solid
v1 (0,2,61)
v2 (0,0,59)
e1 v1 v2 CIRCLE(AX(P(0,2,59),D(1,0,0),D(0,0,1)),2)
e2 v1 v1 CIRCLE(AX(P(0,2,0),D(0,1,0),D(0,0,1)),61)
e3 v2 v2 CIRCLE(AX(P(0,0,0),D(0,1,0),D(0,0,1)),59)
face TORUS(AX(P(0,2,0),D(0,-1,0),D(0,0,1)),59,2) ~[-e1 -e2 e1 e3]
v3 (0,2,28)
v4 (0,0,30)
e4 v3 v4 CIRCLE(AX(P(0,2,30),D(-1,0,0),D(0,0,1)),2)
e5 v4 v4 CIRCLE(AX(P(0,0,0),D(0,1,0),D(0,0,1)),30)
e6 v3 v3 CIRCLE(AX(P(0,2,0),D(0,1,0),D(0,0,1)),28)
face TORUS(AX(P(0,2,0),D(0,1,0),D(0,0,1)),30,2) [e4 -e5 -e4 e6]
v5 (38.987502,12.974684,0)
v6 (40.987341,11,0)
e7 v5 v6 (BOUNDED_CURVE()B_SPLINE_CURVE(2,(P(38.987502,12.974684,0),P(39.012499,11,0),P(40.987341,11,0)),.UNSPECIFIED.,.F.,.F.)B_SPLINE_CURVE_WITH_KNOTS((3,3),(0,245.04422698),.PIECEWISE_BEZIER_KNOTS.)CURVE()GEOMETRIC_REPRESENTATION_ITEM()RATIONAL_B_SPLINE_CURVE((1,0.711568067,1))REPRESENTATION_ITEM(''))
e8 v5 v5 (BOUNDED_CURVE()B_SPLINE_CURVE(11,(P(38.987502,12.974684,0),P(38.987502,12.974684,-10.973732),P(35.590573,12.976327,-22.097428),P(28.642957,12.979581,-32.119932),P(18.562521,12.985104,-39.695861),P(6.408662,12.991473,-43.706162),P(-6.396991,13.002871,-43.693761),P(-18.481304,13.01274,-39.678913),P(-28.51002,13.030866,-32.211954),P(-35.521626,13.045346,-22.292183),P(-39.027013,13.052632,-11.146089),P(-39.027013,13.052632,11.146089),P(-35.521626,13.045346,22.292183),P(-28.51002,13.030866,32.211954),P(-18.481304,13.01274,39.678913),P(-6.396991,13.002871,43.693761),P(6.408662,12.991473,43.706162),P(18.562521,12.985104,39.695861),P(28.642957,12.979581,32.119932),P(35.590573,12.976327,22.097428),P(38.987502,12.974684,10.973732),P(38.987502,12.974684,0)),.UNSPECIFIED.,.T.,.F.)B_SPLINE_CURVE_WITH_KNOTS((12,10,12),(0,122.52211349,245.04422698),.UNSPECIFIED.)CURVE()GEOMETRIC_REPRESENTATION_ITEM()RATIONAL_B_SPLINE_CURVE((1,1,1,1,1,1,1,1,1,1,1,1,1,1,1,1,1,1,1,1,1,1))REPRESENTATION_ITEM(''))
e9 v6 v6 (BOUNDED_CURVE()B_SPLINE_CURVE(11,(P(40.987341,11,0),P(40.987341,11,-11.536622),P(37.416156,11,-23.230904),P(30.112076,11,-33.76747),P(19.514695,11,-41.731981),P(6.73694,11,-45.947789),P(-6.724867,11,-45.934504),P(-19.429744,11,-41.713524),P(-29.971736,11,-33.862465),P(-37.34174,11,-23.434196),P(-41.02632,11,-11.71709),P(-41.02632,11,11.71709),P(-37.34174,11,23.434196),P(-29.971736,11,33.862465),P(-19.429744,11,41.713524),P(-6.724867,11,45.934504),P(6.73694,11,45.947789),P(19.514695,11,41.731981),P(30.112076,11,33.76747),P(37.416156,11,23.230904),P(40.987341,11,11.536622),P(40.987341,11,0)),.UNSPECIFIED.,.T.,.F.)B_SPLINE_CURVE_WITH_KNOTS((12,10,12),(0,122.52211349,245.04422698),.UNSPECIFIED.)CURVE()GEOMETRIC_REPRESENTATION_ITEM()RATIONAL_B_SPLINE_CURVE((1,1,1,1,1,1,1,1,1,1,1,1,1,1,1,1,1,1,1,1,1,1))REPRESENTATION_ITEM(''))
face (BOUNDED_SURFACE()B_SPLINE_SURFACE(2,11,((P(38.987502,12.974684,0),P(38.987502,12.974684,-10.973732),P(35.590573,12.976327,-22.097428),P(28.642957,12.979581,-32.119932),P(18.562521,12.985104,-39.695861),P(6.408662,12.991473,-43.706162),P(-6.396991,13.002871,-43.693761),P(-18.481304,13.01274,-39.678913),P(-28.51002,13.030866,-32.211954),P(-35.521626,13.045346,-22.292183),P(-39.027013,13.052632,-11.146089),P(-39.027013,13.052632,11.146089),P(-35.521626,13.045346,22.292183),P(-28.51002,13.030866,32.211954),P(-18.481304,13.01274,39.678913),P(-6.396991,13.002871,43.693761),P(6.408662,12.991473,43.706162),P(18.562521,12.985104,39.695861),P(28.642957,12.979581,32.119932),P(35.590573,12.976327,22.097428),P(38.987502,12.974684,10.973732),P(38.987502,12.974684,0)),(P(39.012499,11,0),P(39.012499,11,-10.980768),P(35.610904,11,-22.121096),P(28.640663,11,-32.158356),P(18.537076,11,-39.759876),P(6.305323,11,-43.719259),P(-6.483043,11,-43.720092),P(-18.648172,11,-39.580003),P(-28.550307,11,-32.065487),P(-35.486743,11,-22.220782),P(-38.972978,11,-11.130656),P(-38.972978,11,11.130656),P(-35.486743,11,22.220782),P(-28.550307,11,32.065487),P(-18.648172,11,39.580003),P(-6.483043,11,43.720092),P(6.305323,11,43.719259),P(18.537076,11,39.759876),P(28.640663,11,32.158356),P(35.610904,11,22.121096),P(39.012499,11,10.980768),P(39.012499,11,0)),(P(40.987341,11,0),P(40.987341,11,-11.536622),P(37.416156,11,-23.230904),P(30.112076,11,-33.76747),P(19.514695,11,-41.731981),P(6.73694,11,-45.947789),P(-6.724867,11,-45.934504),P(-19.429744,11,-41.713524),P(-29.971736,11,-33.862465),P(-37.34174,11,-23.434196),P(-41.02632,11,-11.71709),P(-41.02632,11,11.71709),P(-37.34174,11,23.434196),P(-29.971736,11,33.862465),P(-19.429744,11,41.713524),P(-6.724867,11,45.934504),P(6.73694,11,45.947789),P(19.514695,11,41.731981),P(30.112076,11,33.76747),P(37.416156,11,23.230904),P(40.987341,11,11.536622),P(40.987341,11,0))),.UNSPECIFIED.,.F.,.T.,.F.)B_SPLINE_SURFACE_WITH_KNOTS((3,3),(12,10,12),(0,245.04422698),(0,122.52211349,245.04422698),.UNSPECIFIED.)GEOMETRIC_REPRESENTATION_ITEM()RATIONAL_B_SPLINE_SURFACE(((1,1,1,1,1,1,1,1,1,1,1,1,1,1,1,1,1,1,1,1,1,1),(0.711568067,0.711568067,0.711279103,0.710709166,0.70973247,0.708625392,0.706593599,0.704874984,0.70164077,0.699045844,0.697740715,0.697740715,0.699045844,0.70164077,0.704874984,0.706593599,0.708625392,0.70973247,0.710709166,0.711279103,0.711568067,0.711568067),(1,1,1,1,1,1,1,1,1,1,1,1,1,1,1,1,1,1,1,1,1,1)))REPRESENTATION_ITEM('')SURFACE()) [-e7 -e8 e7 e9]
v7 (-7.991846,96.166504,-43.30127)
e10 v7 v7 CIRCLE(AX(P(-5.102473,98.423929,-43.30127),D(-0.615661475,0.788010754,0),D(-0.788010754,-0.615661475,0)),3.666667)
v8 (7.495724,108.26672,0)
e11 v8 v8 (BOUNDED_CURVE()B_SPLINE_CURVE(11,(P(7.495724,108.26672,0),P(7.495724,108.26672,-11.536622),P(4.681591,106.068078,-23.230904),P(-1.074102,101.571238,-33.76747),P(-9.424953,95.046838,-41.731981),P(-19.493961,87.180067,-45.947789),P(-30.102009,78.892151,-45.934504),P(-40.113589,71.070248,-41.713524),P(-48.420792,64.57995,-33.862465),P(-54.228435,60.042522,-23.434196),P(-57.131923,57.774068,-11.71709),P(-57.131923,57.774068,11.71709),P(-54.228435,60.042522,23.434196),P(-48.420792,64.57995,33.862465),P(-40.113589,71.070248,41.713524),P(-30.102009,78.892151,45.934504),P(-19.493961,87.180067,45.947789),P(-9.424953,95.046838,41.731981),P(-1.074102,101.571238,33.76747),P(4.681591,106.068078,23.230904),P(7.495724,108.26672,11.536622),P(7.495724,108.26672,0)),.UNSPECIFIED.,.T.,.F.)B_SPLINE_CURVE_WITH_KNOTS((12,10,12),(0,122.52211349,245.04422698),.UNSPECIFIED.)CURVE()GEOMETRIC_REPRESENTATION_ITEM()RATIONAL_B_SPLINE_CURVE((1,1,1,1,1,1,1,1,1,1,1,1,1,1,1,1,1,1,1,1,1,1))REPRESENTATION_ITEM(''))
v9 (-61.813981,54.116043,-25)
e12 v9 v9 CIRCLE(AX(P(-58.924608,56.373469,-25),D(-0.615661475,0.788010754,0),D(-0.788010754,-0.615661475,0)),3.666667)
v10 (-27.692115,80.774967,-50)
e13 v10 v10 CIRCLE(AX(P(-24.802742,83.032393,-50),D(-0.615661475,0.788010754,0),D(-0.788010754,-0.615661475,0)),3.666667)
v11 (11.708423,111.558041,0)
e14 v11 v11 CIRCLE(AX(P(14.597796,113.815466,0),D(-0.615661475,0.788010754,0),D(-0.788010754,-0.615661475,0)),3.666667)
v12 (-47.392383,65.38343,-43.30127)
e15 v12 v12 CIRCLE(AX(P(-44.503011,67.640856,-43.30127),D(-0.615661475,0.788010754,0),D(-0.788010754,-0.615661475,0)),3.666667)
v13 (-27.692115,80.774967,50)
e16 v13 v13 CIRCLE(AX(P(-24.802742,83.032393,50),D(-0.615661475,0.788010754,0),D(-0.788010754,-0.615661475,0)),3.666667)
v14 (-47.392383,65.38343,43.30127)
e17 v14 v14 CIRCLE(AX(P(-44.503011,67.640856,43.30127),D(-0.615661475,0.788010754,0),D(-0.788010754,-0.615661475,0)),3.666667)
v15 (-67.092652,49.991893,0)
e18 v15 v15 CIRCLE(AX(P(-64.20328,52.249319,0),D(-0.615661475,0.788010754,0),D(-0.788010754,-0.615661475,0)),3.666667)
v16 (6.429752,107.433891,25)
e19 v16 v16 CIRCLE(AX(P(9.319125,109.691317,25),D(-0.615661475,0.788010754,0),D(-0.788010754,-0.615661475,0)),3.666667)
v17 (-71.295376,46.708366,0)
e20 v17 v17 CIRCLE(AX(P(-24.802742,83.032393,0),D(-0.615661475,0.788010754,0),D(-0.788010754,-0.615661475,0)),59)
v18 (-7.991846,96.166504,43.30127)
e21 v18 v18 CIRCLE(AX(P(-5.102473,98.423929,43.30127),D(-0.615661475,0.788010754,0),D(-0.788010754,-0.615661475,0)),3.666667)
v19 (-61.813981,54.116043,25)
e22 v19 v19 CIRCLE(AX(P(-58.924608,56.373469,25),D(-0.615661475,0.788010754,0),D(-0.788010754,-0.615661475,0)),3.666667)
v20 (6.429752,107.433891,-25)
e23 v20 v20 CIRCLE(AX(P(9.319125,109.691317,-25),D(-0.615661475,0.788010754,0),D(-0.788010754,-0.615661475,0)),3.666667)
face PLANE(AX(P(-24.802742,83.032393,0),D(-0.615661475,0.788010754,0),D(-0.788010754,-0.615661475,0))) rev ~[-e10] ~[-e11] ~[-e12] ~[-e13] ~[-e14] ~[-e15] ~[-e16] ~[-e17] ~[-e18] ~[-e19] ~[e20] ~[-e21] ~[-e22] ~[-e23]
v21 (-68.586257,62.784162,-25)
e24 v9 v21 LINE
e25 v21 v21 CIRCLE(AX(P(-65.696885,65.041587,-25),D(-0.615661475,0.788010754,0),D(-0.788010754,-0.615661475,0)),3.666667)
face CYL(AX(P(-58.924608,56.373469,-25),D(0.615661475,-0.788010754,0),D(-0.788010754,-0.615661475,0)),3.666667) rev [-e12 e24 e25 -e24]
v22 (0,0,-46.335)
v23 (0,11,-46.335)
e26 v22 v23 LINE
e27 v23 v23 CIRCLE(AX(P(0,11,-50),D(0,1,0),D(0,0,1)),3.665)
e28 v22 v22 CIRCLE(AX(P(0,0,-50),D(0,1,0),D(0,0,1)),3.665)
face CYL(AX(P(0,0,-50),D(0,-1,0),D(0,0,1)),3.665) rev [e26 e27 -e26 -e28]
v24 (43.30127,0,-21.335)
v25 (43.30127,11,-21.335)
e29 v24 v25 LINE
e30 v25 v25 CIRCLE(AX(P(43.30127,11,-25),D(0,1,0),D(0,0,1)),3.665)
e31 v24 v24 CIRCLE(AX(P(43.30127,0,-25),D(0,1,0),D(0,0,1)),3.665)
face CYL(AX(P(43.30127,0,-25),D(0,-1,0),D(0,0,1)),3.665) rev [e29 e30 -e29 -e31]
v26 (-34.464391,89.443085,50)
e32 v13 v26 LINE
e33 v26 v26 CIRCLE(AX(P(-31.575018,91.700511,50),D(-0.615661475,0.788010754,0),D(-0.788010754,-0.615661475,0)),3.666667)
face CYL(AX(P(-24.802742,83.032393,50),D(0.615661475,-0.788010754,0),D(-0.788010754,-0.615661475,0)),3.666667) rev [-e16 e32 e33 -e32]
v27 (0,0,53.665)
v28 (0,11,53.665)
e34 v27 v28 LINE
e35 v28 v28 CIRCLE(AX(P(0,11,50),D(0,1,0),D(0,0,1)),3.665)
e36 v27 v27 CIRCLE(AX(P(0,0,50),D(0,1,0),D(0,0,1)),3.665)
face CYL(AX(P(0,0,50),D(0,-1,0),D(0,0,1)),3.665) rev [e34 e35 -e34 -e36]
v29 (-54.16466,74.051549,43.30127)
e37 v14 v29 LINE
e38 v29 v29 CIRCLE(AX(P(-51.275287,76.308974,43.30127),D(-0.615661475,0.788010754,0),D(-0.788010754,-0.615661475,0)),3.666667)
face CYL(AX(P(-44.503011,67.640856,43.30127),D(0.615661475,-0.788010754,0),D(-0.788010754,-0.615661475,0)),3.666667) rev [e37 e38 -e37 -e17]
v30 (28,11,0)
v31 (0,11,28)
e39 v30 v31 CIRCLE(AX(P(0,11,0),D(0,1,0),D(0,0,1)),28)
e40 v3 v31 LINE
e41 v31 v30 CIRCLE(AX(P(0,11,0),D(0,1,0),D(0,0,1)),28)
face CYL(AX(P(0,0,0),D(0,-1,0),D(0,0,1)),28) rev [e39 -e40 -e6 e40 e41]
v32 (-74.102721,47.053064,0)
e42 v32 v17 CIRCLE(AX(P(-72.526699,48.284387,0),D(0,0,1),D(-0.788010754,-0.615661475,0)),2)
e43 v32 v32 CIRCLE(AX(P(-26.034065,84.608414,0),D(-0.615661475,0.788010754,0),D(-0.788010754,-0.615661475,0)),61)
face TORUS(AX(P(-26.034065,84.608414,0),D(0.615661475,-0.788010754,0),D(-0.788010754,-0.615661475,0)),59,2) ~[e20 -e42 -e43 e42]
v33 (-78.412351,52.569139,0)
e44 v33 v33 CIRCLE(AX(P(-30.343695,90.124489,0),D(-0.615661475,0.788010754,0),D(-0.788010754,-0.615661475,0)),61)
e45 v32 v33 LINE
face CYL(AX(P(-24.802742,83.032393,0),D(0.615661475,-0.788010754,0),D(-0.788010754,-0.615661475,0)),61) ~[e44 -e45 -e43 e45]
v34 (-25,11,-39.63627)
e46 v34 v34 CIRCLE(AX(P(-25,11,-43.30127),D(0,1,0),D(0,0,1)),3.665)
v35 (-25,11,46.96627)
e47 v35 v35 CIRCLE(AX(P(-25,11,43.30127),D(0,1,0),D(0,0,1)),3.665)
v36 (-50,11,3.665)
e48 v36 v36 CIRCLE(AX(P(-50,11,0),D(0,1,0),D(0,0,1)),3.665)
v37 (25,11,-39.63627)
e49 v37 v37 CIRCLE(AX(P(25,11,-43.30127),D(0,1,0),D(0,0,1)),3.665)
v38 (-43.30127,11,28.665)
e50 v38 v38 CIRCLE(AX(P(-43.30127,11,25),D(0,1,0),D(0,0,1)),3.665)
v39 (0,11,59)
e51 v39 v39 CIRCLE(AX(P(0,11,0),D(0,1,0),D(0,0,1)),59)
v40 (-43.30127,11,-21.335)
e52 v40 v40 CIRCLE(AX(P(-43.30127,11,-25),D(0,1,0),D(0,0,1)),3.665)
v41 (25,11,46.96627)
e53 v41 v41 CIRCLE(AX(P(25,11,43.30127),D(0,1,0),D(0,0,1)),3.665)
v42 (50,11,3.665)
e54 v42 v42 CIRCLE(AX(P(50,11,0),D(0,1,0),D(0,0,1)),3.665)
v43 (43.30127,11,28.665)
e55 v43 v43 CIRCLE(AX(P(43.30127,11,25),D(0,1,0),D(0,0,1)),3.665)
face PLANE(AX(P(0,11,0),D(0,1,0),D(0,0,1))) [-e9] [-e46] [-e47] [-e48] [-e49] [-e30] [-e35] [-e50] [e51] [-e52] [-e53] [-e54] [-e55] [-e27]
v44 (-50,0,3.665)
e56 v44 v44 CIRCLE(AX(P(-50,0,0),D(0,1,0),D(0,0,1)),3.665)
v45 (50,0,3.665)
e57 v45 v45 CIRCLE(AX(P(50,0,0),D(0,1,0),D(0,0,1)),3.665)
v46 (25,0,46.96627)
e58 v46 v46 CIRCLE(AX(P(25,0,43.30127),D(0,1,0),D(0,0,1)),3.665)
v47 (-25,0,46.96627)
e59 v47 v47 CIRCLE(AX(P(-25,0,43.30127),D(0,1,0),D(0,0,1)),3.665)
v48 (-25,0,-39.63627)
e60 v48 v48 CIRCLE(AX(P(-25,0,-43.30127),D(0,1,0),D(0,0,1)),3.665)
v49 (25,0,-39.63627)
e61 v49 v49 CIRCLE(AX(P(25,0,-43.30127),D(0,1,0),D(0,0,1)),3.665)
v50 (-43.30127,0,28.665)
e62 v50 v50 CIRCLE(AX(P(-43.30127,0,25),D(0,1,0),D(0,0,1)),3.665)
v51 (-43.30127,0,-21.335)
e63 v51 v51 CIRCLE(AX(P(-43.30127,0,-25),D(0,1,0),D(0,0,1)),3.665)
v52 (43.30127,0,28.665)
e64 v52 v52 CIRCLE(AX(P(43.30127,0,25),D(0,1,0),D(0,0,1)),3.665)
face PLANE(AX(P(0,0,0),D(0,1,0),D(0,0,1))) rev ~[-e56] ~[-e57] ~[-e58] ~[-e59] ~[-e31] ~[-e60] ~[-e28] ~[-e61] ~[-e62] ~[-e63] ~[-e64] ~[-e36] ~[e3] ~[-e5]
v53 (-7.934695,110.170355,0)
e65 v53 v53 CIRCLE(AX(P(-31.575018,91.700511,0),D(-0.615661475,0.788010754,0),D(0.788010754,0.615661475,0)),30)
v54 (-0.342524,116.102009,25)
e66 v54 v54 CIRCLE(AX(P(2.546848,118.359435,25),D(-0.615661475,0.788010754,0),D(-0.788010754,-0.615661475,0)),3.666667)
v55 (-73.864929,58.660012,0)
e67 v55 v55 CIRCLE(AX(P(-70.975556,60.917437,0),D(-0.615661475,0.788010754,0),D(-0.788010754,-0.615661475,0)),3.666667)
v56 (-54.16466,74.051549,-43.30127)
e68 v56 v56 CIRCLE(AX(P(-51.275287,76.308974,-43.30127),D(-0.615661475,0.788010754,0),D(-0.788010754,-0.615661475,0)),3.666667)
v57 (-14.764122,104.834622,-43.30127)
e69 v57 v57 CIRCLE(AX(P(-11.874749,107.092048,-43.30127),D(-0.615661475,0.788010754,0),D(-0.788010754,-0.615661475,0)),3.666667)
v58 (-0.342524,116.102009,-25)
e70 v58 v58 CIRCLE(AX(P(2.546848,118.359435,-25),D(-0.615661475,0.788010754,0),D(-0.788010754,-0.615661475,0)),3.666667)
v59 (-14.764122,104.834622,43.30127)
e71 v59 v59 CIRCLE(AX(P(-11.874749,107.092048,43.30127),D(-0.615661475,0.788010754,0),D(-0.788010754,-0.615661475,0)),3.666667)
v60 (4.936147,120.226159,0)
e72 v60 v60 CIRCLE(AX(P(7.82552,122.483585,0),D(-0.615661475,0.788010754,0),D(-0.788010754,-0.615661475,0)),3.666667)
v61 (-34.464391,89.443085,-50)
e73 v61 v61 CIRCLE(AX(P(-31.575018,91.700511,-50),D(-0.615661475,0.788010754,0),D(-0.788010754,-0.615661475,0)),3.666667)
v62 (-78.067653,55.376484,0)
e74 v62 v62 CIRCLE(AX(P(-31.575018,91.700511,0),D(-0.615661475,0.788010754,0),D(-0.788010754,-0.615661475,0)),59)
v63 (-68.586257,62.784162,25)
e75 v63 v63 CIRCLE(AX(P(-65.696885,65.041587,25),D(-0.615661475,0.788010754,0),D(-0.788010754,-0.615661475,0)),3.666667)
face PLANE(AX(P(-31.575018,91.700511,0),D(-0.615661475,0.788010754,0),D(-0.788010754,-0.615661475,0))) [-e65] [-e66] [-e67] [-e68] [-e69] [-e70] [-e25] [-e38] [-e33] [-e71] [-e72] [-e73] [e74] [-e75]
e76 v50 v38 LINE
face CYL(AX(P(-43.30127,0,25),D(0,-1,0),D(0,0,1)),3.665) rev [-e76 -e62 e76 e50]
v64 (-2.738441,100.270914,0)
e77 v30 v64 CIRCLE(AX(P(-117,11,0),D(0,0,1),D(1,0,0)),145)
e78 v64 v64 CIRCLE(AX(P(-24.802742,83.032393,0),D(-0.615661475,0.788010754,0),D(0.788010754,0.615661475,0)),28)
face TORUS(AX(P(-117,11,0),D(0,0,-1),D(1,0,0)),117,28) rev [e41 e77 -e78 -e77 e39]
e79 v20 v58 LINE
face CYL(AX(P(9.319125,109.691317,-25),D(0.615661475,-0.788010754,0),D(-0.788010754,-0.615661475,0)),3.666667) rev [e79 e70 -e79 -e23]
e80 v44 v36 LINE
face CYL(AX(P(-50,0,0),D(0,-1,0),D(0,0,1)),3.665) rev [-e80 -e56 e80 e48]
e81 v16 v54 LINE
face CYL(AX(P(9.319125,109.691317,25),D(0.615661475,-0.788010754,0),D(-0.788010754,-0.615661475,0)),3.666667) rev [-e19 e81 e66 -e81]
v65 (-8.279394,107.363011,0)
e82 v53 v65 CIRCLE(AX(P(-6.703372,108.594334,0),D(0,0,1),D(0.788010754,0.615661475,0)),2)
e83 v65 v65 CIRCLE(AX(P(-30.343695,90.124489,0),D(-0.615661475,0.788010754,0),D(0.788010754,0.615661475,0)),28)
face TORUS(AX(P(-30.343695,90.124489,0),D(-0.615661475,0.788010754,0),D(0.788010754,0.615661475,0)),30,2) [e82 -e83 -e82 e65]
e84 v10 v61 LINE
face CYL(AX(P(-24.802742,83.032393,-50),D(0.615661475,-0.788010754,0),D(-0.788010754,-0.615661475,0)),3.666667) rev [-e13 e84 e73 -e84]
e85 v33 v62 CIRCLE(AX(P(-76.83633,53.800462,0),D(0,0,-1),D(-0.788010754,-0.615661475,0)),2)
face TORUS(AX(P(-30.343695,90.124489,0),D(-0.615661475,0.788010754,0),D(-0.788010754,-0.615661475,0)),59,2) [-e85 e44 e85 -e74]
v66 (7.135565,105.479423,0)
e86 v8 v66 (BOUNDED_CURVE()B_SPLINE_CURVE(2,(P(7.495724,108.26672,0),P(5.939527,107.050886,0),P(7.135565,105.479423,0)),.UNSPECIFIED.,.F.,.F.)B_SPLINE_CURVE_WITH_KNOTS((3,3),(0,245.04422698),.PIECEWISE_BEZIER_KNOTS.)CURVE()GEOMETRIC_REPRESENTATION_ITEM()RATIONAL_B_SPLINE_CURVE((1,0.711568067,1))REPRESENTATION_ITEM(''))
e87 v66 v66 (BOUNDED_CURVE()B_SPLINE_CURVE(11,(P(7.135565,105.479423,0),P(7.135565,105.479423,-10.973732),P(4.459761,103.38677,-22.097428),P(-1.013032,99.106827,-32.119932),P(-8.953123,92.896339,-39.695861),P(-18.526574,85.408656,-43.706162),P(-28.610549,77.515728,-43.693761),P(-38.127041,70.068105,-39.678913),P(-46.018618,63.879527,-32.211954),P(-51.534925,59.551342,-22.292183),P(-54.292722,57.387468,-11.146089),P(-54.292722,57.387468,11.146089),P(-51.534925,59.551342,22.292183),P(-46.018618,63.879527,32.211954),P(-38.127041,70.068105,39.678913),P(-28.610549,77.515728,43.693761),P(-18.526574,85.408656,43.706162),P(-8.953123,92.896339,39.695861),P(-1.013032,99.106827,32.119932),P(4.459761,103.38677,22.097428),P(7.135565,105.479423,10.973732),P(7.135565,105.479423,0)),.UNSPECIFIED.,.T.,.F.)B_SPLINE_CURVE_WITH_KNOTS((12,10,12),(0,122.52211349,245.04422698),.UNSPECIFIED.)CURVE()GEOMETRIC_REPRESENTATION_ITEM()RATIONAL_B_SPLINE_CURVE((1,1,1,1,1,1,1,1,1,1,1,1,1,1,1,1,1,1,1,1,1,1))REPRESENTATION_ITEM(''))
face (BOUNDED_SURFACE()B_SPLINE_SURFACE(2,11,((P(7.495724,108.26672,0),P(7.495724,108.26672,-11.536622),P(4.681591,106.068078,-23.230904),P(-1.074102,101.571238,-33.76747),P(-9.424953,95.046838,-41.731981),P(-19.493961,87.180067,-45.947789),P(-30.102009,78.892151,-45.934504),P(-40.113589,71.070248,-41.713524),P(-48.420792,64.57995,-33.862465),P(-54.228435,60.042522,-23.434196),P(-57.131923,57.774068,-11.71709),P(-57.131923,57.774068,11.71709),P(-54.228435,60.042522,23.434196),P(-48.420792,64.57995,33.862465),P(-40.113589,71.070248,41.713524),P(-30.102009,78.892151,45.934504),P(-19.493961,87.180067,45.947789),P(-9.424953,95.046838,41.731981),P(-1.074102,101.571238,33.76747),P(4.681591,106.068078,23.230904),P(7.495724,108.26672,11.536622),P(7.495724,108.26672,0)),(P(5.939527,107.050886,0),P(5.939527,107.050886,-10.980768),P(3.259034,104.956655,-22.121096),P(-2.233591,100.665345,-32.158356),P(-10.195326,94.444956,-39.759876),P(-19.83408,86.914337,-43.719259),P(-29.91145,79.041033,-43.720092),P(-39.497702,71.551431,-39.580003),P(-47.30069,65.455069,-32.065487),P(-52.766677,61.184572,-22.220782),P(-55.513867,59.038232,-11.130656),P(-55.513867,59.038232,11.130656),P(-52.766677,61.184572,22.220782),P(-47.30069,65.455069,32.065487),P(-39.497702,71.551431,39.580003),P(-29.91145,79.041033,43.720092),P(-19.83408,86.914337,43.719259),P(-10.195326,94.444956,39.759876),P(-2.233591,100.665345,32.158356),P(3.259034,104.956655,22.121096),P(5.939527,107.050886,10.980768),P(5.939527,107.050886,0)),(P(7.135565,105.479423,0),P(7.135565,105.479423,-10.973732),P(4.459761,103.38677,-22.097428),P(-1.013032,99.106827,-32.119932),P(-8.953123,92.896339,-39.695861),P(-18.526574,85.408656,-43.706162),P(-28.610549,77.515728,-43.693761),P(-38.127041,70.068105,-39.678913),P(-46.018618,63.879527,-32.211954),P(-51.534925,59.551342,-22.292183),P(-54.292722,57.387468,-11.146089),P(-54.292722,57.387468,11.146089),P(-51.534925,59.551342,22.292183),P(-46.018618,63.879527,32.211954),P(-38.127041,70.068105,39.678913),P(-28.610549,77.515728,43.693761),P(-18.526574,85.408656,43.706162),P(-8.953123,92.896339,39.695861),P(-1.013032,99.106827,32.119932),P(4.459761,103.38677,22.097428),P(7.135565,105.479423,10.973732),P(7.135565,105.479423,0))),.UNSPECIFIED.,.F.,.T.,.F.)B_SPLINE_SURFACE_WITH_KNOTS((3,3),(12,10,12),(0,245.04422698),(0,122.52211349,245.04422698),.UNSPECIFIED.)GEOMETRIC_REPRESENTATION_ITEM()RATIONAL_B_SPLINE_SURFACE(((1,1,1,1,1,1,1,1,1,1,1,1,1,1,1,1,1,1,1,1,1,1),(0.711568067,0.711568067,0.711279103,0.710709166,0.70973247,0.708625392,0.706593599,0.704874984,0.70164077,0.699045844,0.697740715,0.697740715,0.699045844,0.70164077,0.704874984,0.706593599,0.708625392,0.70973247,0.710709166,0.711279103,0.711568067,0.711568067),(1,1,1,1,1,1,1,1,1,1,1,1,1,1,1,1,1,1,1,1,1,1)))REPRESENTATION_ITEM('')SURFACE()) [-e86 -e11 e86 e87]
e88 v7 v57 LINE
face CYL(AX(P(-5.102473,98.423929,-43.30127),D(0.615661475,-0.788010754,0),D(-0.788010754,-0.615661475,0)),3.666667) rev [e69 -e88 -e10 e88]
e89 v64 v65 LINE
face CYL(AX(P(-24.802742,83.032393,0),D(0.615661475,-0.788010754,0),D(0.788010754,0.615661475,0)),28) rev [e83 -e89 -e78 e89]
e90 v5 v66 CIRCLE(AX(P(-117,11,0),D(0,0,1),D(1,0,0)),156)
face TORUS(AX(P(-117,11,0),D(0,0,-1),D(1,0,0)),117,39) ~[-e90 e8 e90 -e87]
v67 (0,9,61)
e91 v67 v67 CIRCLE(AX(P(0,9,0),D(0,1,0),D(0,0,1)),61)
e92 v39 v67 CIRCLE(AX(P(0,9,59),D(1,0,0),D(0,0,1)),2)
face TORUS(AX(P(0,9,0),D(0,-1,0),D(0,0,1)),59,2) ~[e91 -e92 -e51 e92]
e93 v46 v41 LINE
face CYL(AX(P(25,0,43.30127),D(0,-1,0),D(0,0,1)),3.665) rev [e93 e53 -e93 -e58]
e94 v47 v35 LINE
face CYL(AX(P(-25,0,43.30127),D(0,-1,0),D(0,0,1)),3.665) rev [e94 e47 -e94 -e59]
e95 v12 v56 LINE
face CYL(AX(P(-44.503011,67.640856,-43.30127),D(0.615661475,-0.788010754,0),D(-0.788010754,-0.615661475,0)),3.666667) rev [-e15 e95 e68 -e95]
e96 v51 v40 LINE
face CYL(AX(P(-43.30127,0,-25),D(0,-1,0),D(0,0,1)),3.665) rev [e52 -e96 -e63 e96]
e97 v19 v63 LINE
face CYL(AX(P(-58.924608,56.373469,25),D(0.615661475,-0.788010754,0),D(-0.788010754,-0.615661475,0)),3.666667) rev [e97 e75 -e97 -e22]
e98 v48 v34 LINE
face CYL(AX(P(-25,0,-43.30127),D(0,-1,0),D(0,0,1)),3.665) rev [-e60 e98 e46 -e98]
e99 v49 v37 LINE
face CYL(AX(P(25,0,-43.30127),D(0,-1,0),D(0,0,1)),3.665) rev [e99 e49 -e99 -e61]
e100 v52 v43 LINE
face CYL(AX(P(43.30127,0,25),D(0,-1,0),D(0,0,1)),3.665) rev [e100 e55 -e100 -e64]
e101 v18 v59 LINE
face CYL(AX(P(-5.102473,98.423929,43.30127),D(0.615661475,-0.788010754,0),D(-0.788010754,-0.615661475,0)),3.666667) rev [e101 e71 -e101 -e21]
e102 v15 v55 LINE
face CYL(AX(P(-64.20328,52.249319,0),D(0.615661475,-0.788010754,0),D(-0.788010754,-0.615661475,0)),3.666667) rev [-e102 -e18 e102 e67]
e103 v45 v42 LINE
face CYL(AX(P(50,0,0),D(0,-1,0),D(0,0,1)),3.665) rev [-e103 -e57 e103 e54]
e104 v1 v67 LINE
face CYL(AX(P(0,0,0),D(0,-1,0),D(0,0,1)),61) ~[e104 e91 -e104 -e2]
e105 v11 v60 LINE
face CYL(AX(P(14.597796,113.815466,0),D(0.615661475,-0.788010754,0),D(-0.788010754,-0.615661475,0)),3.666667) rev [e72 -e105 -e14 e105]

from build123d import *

# Parameters (mm, degrees)
SKETCH1_R           = 61
SKETCH1_R_2         = 28
SKETCH1_R_3         = 3.665
BOSS_EXTRUDE1_DEPTH = 11
SKETCH2_R           = 39
SKETCH2_R_2         = 28
REVOLVE1_ANGLE      = 38
SKETCH3_R           = 61
SKETCH3_R_2         = 28
SKETCH3_R_3         = 3.666666667
BOSS_EXTRUDE2_DEPTH = 11
FILLET1_R           = 2


with BuildPart() as part:
    # Sketch1 → Boss-Extrude1 (new body)
    with BuildSketch(Plane(origin=(0, 0, 0), x_dir=(1, 0, 0), z_dir=(0, 1, 0))):
        with Locations(Location((0, 0, 0), (0, 0, 270))):
            Circle(SKETCH1_R)
        with Locations(Location((0, 0, 0), (0, 0, 270))):
            Circle(SKETCH1_R_2, mode=Mode.SUBTRACT)
        with Locations(Location((0, 50, 0), (0, 0, 270))):
            Circle(SKETCH1_R_3, mode=Mode.SUBTRACT)
        with Locations(Location((25, 43.301270189, 0), (0, 0, 270))):
            Circle(SKETCH1_R_3, mode=Mode.SUBTRACT)
        with Locations(Location((43.301270189, 25, 0), (0, 0, 270))):
            Circle(SKETCH1_R_3, mode=Mode.SUBTRACT)
        with Locations(Location((50, 0, 0), (0, 0, 270))):
            Circle(SKETCH1_R_3, mode=Mode.SUBTRACT)
        with Locations(Location((43.301270189, -25, 0), (0, 0, 270))):
            Circle(SKETCH1_R_3, mode=Mode.SUBTRACT)
        with Locations(Location((25, -43.301270189, 0), (0, 0, 270))):
            Circle(SKETCH1_R_3, mode=Mode.SUBTRACT)
        with Locations(Location((0, -50, 0), (0, 0, 270))):
            Circle(SKETCH1_R_3, mode=Mode.SUBTRACT)
        with Locations(Location((-25, -43.301270189, 0), (0, 0, 270))):
            Circle(SKETCH1_R_3, mode=Mode.SUBTRACT)
        with Locations(Location((-43.301270189, -25, 0), (0, 0, 270))):
            Circle(SKETCH1_R_3, mode=Mode.SUBTRACT)
        with Locations(Location((-50, 0, 0), (0, 0, 270))):
            Circle(SKETCH1_R_3, mode=Mode.SUBTRACT)
        with Locations(Location((-43.301270189, 25, 0), (0, 0, 270))):
            Circle(SKETCH1_R_3, mode=Mode.SUBTRACT)
        with Locations(Location((-25, 43.301270189, 0), (0, 0, 270))):
            Circle(SKETCH1_R_3, mode=Mode.SUBTRACT)
    extrude(amount=BOSS_EXTRUDE1_DEPTH)

    # Sketch2 → Revolve1 (revolve)
    with BuildSketch(Plane(origin=(0, 11, 0), x_dir=(1, 0, 0), z_dir=(0, 1, 0))):
        Circle(SKETCH2_R)
        Circle(SKETCH2_R_2, mode=Mode.SUBTRACT)
    revolve(axis=Axis((-117, 11, -31.377943925), (0, 0, 1)), revolution_arc=REVOLVE1_ANGLE)

    # Sketch3 → Boss-Extrude2 (add)
    with BuildSketch(Plane(origin=(-49.684195602, 63.592870413, 0), x_dir=(0.7880107536067209, 0.6156614753256596, 0), z_dir=(-0.6156614753256596, 0.7880107536067209, 0))):
        with Locations(Location((31.575018057, 0, 0), (0, 0, 180))):
            Circle(SKETCH3_R)
        with Locations((31.575018057, 0)):
            Circle(SKETCH3_R_2, mode=Mode.SUBTRACT)
        with Locations(Location((31.575018057, 50, 0), (0, 0, 180))):
            Circle(SKETCH3_R_3, mode=Mode.SUBTRACT)
        with Locations(Location((56.575018057, 43.301270189, 0), (0, 0, 180))):
            Circle(SKETCH3_R_3, mode=Mode.SUBTRACT)
        with Locations(Location((74.876288246, 25, 0), (0, 0, 180))):
            Circle(SKETCH3_R_3, mode=Mode.SUBTRACT)
        with Locations(Location((81.575018057, 0, 0), (0, 0, 180))):
            Circle(SKETCH3_R_3, mode=Mode.SUBTRACT)
        with Locations(Location((74.876288246, -25, 0), (0, 0, 180))):
            Circle(SKETCH3_R_3, mode=Mode.SUBTRACT)
        with Locations(Location((56.575018057, -43.301270189, 0), (0, 0, 180))):
            Circle(SKETCH3_R_3, mode=Mode.SUBTRACT)
        with Locations(Location((31.575018057, -50, 0), (0, 0, 180))):
            Circle(SKETCH3_R_3, mode=Mode.SUBTRACT)
        with Locations(Location((6.575018057, -43.301270189, 0), (0, 0, 180))):
            Circle(SKETCH3_R_3, mode=Mode.SUBTRACT)
        with Locations(Location((-11.726252133, -25, 0), (0, 0, 180))):
            Circle(SKETCH3_R_3, mode=Mode.SUBTRACT)
        with Locations(Location((-18.424981943, 0, 0), (0, 0, 180))):
            Circle(SKETCH3_R_3, mode=Mode.SUBTRACT)
        with Locations(Location((-11.726252133, 25, 0), (0, 0, 180))):
            Circle(SKETCH3_R_3, mode=Mode.SUBTRACT)
        with Locations(Location((6.575018057, 43.301270189, 0), (0, 0, 180))):
            Circle(SKETCH3_R_3, mode=Mode.SUBTRACT)
    extrude(amount=BOSS_EXTRUDE2_DEPTH)

    # Fillet1
    fillet1_edges = [part.edges().sort_by_distance(p)[0] for p in [
        (0, 0, -61),
        (0, 11, -61),
        (0, 0, -28),
        (-39, 11, 0),
        (-55.535161219, 59.021595075, 0),
        (16.493637913, 129.255860898, 0),
        (23.265914142, 120.587742608, 0),
        (-53.639319158, 74.461989594, 0),
    ]]
    fillet(fillet1_edges, radius=FILLET1_R)


solid = part.part
